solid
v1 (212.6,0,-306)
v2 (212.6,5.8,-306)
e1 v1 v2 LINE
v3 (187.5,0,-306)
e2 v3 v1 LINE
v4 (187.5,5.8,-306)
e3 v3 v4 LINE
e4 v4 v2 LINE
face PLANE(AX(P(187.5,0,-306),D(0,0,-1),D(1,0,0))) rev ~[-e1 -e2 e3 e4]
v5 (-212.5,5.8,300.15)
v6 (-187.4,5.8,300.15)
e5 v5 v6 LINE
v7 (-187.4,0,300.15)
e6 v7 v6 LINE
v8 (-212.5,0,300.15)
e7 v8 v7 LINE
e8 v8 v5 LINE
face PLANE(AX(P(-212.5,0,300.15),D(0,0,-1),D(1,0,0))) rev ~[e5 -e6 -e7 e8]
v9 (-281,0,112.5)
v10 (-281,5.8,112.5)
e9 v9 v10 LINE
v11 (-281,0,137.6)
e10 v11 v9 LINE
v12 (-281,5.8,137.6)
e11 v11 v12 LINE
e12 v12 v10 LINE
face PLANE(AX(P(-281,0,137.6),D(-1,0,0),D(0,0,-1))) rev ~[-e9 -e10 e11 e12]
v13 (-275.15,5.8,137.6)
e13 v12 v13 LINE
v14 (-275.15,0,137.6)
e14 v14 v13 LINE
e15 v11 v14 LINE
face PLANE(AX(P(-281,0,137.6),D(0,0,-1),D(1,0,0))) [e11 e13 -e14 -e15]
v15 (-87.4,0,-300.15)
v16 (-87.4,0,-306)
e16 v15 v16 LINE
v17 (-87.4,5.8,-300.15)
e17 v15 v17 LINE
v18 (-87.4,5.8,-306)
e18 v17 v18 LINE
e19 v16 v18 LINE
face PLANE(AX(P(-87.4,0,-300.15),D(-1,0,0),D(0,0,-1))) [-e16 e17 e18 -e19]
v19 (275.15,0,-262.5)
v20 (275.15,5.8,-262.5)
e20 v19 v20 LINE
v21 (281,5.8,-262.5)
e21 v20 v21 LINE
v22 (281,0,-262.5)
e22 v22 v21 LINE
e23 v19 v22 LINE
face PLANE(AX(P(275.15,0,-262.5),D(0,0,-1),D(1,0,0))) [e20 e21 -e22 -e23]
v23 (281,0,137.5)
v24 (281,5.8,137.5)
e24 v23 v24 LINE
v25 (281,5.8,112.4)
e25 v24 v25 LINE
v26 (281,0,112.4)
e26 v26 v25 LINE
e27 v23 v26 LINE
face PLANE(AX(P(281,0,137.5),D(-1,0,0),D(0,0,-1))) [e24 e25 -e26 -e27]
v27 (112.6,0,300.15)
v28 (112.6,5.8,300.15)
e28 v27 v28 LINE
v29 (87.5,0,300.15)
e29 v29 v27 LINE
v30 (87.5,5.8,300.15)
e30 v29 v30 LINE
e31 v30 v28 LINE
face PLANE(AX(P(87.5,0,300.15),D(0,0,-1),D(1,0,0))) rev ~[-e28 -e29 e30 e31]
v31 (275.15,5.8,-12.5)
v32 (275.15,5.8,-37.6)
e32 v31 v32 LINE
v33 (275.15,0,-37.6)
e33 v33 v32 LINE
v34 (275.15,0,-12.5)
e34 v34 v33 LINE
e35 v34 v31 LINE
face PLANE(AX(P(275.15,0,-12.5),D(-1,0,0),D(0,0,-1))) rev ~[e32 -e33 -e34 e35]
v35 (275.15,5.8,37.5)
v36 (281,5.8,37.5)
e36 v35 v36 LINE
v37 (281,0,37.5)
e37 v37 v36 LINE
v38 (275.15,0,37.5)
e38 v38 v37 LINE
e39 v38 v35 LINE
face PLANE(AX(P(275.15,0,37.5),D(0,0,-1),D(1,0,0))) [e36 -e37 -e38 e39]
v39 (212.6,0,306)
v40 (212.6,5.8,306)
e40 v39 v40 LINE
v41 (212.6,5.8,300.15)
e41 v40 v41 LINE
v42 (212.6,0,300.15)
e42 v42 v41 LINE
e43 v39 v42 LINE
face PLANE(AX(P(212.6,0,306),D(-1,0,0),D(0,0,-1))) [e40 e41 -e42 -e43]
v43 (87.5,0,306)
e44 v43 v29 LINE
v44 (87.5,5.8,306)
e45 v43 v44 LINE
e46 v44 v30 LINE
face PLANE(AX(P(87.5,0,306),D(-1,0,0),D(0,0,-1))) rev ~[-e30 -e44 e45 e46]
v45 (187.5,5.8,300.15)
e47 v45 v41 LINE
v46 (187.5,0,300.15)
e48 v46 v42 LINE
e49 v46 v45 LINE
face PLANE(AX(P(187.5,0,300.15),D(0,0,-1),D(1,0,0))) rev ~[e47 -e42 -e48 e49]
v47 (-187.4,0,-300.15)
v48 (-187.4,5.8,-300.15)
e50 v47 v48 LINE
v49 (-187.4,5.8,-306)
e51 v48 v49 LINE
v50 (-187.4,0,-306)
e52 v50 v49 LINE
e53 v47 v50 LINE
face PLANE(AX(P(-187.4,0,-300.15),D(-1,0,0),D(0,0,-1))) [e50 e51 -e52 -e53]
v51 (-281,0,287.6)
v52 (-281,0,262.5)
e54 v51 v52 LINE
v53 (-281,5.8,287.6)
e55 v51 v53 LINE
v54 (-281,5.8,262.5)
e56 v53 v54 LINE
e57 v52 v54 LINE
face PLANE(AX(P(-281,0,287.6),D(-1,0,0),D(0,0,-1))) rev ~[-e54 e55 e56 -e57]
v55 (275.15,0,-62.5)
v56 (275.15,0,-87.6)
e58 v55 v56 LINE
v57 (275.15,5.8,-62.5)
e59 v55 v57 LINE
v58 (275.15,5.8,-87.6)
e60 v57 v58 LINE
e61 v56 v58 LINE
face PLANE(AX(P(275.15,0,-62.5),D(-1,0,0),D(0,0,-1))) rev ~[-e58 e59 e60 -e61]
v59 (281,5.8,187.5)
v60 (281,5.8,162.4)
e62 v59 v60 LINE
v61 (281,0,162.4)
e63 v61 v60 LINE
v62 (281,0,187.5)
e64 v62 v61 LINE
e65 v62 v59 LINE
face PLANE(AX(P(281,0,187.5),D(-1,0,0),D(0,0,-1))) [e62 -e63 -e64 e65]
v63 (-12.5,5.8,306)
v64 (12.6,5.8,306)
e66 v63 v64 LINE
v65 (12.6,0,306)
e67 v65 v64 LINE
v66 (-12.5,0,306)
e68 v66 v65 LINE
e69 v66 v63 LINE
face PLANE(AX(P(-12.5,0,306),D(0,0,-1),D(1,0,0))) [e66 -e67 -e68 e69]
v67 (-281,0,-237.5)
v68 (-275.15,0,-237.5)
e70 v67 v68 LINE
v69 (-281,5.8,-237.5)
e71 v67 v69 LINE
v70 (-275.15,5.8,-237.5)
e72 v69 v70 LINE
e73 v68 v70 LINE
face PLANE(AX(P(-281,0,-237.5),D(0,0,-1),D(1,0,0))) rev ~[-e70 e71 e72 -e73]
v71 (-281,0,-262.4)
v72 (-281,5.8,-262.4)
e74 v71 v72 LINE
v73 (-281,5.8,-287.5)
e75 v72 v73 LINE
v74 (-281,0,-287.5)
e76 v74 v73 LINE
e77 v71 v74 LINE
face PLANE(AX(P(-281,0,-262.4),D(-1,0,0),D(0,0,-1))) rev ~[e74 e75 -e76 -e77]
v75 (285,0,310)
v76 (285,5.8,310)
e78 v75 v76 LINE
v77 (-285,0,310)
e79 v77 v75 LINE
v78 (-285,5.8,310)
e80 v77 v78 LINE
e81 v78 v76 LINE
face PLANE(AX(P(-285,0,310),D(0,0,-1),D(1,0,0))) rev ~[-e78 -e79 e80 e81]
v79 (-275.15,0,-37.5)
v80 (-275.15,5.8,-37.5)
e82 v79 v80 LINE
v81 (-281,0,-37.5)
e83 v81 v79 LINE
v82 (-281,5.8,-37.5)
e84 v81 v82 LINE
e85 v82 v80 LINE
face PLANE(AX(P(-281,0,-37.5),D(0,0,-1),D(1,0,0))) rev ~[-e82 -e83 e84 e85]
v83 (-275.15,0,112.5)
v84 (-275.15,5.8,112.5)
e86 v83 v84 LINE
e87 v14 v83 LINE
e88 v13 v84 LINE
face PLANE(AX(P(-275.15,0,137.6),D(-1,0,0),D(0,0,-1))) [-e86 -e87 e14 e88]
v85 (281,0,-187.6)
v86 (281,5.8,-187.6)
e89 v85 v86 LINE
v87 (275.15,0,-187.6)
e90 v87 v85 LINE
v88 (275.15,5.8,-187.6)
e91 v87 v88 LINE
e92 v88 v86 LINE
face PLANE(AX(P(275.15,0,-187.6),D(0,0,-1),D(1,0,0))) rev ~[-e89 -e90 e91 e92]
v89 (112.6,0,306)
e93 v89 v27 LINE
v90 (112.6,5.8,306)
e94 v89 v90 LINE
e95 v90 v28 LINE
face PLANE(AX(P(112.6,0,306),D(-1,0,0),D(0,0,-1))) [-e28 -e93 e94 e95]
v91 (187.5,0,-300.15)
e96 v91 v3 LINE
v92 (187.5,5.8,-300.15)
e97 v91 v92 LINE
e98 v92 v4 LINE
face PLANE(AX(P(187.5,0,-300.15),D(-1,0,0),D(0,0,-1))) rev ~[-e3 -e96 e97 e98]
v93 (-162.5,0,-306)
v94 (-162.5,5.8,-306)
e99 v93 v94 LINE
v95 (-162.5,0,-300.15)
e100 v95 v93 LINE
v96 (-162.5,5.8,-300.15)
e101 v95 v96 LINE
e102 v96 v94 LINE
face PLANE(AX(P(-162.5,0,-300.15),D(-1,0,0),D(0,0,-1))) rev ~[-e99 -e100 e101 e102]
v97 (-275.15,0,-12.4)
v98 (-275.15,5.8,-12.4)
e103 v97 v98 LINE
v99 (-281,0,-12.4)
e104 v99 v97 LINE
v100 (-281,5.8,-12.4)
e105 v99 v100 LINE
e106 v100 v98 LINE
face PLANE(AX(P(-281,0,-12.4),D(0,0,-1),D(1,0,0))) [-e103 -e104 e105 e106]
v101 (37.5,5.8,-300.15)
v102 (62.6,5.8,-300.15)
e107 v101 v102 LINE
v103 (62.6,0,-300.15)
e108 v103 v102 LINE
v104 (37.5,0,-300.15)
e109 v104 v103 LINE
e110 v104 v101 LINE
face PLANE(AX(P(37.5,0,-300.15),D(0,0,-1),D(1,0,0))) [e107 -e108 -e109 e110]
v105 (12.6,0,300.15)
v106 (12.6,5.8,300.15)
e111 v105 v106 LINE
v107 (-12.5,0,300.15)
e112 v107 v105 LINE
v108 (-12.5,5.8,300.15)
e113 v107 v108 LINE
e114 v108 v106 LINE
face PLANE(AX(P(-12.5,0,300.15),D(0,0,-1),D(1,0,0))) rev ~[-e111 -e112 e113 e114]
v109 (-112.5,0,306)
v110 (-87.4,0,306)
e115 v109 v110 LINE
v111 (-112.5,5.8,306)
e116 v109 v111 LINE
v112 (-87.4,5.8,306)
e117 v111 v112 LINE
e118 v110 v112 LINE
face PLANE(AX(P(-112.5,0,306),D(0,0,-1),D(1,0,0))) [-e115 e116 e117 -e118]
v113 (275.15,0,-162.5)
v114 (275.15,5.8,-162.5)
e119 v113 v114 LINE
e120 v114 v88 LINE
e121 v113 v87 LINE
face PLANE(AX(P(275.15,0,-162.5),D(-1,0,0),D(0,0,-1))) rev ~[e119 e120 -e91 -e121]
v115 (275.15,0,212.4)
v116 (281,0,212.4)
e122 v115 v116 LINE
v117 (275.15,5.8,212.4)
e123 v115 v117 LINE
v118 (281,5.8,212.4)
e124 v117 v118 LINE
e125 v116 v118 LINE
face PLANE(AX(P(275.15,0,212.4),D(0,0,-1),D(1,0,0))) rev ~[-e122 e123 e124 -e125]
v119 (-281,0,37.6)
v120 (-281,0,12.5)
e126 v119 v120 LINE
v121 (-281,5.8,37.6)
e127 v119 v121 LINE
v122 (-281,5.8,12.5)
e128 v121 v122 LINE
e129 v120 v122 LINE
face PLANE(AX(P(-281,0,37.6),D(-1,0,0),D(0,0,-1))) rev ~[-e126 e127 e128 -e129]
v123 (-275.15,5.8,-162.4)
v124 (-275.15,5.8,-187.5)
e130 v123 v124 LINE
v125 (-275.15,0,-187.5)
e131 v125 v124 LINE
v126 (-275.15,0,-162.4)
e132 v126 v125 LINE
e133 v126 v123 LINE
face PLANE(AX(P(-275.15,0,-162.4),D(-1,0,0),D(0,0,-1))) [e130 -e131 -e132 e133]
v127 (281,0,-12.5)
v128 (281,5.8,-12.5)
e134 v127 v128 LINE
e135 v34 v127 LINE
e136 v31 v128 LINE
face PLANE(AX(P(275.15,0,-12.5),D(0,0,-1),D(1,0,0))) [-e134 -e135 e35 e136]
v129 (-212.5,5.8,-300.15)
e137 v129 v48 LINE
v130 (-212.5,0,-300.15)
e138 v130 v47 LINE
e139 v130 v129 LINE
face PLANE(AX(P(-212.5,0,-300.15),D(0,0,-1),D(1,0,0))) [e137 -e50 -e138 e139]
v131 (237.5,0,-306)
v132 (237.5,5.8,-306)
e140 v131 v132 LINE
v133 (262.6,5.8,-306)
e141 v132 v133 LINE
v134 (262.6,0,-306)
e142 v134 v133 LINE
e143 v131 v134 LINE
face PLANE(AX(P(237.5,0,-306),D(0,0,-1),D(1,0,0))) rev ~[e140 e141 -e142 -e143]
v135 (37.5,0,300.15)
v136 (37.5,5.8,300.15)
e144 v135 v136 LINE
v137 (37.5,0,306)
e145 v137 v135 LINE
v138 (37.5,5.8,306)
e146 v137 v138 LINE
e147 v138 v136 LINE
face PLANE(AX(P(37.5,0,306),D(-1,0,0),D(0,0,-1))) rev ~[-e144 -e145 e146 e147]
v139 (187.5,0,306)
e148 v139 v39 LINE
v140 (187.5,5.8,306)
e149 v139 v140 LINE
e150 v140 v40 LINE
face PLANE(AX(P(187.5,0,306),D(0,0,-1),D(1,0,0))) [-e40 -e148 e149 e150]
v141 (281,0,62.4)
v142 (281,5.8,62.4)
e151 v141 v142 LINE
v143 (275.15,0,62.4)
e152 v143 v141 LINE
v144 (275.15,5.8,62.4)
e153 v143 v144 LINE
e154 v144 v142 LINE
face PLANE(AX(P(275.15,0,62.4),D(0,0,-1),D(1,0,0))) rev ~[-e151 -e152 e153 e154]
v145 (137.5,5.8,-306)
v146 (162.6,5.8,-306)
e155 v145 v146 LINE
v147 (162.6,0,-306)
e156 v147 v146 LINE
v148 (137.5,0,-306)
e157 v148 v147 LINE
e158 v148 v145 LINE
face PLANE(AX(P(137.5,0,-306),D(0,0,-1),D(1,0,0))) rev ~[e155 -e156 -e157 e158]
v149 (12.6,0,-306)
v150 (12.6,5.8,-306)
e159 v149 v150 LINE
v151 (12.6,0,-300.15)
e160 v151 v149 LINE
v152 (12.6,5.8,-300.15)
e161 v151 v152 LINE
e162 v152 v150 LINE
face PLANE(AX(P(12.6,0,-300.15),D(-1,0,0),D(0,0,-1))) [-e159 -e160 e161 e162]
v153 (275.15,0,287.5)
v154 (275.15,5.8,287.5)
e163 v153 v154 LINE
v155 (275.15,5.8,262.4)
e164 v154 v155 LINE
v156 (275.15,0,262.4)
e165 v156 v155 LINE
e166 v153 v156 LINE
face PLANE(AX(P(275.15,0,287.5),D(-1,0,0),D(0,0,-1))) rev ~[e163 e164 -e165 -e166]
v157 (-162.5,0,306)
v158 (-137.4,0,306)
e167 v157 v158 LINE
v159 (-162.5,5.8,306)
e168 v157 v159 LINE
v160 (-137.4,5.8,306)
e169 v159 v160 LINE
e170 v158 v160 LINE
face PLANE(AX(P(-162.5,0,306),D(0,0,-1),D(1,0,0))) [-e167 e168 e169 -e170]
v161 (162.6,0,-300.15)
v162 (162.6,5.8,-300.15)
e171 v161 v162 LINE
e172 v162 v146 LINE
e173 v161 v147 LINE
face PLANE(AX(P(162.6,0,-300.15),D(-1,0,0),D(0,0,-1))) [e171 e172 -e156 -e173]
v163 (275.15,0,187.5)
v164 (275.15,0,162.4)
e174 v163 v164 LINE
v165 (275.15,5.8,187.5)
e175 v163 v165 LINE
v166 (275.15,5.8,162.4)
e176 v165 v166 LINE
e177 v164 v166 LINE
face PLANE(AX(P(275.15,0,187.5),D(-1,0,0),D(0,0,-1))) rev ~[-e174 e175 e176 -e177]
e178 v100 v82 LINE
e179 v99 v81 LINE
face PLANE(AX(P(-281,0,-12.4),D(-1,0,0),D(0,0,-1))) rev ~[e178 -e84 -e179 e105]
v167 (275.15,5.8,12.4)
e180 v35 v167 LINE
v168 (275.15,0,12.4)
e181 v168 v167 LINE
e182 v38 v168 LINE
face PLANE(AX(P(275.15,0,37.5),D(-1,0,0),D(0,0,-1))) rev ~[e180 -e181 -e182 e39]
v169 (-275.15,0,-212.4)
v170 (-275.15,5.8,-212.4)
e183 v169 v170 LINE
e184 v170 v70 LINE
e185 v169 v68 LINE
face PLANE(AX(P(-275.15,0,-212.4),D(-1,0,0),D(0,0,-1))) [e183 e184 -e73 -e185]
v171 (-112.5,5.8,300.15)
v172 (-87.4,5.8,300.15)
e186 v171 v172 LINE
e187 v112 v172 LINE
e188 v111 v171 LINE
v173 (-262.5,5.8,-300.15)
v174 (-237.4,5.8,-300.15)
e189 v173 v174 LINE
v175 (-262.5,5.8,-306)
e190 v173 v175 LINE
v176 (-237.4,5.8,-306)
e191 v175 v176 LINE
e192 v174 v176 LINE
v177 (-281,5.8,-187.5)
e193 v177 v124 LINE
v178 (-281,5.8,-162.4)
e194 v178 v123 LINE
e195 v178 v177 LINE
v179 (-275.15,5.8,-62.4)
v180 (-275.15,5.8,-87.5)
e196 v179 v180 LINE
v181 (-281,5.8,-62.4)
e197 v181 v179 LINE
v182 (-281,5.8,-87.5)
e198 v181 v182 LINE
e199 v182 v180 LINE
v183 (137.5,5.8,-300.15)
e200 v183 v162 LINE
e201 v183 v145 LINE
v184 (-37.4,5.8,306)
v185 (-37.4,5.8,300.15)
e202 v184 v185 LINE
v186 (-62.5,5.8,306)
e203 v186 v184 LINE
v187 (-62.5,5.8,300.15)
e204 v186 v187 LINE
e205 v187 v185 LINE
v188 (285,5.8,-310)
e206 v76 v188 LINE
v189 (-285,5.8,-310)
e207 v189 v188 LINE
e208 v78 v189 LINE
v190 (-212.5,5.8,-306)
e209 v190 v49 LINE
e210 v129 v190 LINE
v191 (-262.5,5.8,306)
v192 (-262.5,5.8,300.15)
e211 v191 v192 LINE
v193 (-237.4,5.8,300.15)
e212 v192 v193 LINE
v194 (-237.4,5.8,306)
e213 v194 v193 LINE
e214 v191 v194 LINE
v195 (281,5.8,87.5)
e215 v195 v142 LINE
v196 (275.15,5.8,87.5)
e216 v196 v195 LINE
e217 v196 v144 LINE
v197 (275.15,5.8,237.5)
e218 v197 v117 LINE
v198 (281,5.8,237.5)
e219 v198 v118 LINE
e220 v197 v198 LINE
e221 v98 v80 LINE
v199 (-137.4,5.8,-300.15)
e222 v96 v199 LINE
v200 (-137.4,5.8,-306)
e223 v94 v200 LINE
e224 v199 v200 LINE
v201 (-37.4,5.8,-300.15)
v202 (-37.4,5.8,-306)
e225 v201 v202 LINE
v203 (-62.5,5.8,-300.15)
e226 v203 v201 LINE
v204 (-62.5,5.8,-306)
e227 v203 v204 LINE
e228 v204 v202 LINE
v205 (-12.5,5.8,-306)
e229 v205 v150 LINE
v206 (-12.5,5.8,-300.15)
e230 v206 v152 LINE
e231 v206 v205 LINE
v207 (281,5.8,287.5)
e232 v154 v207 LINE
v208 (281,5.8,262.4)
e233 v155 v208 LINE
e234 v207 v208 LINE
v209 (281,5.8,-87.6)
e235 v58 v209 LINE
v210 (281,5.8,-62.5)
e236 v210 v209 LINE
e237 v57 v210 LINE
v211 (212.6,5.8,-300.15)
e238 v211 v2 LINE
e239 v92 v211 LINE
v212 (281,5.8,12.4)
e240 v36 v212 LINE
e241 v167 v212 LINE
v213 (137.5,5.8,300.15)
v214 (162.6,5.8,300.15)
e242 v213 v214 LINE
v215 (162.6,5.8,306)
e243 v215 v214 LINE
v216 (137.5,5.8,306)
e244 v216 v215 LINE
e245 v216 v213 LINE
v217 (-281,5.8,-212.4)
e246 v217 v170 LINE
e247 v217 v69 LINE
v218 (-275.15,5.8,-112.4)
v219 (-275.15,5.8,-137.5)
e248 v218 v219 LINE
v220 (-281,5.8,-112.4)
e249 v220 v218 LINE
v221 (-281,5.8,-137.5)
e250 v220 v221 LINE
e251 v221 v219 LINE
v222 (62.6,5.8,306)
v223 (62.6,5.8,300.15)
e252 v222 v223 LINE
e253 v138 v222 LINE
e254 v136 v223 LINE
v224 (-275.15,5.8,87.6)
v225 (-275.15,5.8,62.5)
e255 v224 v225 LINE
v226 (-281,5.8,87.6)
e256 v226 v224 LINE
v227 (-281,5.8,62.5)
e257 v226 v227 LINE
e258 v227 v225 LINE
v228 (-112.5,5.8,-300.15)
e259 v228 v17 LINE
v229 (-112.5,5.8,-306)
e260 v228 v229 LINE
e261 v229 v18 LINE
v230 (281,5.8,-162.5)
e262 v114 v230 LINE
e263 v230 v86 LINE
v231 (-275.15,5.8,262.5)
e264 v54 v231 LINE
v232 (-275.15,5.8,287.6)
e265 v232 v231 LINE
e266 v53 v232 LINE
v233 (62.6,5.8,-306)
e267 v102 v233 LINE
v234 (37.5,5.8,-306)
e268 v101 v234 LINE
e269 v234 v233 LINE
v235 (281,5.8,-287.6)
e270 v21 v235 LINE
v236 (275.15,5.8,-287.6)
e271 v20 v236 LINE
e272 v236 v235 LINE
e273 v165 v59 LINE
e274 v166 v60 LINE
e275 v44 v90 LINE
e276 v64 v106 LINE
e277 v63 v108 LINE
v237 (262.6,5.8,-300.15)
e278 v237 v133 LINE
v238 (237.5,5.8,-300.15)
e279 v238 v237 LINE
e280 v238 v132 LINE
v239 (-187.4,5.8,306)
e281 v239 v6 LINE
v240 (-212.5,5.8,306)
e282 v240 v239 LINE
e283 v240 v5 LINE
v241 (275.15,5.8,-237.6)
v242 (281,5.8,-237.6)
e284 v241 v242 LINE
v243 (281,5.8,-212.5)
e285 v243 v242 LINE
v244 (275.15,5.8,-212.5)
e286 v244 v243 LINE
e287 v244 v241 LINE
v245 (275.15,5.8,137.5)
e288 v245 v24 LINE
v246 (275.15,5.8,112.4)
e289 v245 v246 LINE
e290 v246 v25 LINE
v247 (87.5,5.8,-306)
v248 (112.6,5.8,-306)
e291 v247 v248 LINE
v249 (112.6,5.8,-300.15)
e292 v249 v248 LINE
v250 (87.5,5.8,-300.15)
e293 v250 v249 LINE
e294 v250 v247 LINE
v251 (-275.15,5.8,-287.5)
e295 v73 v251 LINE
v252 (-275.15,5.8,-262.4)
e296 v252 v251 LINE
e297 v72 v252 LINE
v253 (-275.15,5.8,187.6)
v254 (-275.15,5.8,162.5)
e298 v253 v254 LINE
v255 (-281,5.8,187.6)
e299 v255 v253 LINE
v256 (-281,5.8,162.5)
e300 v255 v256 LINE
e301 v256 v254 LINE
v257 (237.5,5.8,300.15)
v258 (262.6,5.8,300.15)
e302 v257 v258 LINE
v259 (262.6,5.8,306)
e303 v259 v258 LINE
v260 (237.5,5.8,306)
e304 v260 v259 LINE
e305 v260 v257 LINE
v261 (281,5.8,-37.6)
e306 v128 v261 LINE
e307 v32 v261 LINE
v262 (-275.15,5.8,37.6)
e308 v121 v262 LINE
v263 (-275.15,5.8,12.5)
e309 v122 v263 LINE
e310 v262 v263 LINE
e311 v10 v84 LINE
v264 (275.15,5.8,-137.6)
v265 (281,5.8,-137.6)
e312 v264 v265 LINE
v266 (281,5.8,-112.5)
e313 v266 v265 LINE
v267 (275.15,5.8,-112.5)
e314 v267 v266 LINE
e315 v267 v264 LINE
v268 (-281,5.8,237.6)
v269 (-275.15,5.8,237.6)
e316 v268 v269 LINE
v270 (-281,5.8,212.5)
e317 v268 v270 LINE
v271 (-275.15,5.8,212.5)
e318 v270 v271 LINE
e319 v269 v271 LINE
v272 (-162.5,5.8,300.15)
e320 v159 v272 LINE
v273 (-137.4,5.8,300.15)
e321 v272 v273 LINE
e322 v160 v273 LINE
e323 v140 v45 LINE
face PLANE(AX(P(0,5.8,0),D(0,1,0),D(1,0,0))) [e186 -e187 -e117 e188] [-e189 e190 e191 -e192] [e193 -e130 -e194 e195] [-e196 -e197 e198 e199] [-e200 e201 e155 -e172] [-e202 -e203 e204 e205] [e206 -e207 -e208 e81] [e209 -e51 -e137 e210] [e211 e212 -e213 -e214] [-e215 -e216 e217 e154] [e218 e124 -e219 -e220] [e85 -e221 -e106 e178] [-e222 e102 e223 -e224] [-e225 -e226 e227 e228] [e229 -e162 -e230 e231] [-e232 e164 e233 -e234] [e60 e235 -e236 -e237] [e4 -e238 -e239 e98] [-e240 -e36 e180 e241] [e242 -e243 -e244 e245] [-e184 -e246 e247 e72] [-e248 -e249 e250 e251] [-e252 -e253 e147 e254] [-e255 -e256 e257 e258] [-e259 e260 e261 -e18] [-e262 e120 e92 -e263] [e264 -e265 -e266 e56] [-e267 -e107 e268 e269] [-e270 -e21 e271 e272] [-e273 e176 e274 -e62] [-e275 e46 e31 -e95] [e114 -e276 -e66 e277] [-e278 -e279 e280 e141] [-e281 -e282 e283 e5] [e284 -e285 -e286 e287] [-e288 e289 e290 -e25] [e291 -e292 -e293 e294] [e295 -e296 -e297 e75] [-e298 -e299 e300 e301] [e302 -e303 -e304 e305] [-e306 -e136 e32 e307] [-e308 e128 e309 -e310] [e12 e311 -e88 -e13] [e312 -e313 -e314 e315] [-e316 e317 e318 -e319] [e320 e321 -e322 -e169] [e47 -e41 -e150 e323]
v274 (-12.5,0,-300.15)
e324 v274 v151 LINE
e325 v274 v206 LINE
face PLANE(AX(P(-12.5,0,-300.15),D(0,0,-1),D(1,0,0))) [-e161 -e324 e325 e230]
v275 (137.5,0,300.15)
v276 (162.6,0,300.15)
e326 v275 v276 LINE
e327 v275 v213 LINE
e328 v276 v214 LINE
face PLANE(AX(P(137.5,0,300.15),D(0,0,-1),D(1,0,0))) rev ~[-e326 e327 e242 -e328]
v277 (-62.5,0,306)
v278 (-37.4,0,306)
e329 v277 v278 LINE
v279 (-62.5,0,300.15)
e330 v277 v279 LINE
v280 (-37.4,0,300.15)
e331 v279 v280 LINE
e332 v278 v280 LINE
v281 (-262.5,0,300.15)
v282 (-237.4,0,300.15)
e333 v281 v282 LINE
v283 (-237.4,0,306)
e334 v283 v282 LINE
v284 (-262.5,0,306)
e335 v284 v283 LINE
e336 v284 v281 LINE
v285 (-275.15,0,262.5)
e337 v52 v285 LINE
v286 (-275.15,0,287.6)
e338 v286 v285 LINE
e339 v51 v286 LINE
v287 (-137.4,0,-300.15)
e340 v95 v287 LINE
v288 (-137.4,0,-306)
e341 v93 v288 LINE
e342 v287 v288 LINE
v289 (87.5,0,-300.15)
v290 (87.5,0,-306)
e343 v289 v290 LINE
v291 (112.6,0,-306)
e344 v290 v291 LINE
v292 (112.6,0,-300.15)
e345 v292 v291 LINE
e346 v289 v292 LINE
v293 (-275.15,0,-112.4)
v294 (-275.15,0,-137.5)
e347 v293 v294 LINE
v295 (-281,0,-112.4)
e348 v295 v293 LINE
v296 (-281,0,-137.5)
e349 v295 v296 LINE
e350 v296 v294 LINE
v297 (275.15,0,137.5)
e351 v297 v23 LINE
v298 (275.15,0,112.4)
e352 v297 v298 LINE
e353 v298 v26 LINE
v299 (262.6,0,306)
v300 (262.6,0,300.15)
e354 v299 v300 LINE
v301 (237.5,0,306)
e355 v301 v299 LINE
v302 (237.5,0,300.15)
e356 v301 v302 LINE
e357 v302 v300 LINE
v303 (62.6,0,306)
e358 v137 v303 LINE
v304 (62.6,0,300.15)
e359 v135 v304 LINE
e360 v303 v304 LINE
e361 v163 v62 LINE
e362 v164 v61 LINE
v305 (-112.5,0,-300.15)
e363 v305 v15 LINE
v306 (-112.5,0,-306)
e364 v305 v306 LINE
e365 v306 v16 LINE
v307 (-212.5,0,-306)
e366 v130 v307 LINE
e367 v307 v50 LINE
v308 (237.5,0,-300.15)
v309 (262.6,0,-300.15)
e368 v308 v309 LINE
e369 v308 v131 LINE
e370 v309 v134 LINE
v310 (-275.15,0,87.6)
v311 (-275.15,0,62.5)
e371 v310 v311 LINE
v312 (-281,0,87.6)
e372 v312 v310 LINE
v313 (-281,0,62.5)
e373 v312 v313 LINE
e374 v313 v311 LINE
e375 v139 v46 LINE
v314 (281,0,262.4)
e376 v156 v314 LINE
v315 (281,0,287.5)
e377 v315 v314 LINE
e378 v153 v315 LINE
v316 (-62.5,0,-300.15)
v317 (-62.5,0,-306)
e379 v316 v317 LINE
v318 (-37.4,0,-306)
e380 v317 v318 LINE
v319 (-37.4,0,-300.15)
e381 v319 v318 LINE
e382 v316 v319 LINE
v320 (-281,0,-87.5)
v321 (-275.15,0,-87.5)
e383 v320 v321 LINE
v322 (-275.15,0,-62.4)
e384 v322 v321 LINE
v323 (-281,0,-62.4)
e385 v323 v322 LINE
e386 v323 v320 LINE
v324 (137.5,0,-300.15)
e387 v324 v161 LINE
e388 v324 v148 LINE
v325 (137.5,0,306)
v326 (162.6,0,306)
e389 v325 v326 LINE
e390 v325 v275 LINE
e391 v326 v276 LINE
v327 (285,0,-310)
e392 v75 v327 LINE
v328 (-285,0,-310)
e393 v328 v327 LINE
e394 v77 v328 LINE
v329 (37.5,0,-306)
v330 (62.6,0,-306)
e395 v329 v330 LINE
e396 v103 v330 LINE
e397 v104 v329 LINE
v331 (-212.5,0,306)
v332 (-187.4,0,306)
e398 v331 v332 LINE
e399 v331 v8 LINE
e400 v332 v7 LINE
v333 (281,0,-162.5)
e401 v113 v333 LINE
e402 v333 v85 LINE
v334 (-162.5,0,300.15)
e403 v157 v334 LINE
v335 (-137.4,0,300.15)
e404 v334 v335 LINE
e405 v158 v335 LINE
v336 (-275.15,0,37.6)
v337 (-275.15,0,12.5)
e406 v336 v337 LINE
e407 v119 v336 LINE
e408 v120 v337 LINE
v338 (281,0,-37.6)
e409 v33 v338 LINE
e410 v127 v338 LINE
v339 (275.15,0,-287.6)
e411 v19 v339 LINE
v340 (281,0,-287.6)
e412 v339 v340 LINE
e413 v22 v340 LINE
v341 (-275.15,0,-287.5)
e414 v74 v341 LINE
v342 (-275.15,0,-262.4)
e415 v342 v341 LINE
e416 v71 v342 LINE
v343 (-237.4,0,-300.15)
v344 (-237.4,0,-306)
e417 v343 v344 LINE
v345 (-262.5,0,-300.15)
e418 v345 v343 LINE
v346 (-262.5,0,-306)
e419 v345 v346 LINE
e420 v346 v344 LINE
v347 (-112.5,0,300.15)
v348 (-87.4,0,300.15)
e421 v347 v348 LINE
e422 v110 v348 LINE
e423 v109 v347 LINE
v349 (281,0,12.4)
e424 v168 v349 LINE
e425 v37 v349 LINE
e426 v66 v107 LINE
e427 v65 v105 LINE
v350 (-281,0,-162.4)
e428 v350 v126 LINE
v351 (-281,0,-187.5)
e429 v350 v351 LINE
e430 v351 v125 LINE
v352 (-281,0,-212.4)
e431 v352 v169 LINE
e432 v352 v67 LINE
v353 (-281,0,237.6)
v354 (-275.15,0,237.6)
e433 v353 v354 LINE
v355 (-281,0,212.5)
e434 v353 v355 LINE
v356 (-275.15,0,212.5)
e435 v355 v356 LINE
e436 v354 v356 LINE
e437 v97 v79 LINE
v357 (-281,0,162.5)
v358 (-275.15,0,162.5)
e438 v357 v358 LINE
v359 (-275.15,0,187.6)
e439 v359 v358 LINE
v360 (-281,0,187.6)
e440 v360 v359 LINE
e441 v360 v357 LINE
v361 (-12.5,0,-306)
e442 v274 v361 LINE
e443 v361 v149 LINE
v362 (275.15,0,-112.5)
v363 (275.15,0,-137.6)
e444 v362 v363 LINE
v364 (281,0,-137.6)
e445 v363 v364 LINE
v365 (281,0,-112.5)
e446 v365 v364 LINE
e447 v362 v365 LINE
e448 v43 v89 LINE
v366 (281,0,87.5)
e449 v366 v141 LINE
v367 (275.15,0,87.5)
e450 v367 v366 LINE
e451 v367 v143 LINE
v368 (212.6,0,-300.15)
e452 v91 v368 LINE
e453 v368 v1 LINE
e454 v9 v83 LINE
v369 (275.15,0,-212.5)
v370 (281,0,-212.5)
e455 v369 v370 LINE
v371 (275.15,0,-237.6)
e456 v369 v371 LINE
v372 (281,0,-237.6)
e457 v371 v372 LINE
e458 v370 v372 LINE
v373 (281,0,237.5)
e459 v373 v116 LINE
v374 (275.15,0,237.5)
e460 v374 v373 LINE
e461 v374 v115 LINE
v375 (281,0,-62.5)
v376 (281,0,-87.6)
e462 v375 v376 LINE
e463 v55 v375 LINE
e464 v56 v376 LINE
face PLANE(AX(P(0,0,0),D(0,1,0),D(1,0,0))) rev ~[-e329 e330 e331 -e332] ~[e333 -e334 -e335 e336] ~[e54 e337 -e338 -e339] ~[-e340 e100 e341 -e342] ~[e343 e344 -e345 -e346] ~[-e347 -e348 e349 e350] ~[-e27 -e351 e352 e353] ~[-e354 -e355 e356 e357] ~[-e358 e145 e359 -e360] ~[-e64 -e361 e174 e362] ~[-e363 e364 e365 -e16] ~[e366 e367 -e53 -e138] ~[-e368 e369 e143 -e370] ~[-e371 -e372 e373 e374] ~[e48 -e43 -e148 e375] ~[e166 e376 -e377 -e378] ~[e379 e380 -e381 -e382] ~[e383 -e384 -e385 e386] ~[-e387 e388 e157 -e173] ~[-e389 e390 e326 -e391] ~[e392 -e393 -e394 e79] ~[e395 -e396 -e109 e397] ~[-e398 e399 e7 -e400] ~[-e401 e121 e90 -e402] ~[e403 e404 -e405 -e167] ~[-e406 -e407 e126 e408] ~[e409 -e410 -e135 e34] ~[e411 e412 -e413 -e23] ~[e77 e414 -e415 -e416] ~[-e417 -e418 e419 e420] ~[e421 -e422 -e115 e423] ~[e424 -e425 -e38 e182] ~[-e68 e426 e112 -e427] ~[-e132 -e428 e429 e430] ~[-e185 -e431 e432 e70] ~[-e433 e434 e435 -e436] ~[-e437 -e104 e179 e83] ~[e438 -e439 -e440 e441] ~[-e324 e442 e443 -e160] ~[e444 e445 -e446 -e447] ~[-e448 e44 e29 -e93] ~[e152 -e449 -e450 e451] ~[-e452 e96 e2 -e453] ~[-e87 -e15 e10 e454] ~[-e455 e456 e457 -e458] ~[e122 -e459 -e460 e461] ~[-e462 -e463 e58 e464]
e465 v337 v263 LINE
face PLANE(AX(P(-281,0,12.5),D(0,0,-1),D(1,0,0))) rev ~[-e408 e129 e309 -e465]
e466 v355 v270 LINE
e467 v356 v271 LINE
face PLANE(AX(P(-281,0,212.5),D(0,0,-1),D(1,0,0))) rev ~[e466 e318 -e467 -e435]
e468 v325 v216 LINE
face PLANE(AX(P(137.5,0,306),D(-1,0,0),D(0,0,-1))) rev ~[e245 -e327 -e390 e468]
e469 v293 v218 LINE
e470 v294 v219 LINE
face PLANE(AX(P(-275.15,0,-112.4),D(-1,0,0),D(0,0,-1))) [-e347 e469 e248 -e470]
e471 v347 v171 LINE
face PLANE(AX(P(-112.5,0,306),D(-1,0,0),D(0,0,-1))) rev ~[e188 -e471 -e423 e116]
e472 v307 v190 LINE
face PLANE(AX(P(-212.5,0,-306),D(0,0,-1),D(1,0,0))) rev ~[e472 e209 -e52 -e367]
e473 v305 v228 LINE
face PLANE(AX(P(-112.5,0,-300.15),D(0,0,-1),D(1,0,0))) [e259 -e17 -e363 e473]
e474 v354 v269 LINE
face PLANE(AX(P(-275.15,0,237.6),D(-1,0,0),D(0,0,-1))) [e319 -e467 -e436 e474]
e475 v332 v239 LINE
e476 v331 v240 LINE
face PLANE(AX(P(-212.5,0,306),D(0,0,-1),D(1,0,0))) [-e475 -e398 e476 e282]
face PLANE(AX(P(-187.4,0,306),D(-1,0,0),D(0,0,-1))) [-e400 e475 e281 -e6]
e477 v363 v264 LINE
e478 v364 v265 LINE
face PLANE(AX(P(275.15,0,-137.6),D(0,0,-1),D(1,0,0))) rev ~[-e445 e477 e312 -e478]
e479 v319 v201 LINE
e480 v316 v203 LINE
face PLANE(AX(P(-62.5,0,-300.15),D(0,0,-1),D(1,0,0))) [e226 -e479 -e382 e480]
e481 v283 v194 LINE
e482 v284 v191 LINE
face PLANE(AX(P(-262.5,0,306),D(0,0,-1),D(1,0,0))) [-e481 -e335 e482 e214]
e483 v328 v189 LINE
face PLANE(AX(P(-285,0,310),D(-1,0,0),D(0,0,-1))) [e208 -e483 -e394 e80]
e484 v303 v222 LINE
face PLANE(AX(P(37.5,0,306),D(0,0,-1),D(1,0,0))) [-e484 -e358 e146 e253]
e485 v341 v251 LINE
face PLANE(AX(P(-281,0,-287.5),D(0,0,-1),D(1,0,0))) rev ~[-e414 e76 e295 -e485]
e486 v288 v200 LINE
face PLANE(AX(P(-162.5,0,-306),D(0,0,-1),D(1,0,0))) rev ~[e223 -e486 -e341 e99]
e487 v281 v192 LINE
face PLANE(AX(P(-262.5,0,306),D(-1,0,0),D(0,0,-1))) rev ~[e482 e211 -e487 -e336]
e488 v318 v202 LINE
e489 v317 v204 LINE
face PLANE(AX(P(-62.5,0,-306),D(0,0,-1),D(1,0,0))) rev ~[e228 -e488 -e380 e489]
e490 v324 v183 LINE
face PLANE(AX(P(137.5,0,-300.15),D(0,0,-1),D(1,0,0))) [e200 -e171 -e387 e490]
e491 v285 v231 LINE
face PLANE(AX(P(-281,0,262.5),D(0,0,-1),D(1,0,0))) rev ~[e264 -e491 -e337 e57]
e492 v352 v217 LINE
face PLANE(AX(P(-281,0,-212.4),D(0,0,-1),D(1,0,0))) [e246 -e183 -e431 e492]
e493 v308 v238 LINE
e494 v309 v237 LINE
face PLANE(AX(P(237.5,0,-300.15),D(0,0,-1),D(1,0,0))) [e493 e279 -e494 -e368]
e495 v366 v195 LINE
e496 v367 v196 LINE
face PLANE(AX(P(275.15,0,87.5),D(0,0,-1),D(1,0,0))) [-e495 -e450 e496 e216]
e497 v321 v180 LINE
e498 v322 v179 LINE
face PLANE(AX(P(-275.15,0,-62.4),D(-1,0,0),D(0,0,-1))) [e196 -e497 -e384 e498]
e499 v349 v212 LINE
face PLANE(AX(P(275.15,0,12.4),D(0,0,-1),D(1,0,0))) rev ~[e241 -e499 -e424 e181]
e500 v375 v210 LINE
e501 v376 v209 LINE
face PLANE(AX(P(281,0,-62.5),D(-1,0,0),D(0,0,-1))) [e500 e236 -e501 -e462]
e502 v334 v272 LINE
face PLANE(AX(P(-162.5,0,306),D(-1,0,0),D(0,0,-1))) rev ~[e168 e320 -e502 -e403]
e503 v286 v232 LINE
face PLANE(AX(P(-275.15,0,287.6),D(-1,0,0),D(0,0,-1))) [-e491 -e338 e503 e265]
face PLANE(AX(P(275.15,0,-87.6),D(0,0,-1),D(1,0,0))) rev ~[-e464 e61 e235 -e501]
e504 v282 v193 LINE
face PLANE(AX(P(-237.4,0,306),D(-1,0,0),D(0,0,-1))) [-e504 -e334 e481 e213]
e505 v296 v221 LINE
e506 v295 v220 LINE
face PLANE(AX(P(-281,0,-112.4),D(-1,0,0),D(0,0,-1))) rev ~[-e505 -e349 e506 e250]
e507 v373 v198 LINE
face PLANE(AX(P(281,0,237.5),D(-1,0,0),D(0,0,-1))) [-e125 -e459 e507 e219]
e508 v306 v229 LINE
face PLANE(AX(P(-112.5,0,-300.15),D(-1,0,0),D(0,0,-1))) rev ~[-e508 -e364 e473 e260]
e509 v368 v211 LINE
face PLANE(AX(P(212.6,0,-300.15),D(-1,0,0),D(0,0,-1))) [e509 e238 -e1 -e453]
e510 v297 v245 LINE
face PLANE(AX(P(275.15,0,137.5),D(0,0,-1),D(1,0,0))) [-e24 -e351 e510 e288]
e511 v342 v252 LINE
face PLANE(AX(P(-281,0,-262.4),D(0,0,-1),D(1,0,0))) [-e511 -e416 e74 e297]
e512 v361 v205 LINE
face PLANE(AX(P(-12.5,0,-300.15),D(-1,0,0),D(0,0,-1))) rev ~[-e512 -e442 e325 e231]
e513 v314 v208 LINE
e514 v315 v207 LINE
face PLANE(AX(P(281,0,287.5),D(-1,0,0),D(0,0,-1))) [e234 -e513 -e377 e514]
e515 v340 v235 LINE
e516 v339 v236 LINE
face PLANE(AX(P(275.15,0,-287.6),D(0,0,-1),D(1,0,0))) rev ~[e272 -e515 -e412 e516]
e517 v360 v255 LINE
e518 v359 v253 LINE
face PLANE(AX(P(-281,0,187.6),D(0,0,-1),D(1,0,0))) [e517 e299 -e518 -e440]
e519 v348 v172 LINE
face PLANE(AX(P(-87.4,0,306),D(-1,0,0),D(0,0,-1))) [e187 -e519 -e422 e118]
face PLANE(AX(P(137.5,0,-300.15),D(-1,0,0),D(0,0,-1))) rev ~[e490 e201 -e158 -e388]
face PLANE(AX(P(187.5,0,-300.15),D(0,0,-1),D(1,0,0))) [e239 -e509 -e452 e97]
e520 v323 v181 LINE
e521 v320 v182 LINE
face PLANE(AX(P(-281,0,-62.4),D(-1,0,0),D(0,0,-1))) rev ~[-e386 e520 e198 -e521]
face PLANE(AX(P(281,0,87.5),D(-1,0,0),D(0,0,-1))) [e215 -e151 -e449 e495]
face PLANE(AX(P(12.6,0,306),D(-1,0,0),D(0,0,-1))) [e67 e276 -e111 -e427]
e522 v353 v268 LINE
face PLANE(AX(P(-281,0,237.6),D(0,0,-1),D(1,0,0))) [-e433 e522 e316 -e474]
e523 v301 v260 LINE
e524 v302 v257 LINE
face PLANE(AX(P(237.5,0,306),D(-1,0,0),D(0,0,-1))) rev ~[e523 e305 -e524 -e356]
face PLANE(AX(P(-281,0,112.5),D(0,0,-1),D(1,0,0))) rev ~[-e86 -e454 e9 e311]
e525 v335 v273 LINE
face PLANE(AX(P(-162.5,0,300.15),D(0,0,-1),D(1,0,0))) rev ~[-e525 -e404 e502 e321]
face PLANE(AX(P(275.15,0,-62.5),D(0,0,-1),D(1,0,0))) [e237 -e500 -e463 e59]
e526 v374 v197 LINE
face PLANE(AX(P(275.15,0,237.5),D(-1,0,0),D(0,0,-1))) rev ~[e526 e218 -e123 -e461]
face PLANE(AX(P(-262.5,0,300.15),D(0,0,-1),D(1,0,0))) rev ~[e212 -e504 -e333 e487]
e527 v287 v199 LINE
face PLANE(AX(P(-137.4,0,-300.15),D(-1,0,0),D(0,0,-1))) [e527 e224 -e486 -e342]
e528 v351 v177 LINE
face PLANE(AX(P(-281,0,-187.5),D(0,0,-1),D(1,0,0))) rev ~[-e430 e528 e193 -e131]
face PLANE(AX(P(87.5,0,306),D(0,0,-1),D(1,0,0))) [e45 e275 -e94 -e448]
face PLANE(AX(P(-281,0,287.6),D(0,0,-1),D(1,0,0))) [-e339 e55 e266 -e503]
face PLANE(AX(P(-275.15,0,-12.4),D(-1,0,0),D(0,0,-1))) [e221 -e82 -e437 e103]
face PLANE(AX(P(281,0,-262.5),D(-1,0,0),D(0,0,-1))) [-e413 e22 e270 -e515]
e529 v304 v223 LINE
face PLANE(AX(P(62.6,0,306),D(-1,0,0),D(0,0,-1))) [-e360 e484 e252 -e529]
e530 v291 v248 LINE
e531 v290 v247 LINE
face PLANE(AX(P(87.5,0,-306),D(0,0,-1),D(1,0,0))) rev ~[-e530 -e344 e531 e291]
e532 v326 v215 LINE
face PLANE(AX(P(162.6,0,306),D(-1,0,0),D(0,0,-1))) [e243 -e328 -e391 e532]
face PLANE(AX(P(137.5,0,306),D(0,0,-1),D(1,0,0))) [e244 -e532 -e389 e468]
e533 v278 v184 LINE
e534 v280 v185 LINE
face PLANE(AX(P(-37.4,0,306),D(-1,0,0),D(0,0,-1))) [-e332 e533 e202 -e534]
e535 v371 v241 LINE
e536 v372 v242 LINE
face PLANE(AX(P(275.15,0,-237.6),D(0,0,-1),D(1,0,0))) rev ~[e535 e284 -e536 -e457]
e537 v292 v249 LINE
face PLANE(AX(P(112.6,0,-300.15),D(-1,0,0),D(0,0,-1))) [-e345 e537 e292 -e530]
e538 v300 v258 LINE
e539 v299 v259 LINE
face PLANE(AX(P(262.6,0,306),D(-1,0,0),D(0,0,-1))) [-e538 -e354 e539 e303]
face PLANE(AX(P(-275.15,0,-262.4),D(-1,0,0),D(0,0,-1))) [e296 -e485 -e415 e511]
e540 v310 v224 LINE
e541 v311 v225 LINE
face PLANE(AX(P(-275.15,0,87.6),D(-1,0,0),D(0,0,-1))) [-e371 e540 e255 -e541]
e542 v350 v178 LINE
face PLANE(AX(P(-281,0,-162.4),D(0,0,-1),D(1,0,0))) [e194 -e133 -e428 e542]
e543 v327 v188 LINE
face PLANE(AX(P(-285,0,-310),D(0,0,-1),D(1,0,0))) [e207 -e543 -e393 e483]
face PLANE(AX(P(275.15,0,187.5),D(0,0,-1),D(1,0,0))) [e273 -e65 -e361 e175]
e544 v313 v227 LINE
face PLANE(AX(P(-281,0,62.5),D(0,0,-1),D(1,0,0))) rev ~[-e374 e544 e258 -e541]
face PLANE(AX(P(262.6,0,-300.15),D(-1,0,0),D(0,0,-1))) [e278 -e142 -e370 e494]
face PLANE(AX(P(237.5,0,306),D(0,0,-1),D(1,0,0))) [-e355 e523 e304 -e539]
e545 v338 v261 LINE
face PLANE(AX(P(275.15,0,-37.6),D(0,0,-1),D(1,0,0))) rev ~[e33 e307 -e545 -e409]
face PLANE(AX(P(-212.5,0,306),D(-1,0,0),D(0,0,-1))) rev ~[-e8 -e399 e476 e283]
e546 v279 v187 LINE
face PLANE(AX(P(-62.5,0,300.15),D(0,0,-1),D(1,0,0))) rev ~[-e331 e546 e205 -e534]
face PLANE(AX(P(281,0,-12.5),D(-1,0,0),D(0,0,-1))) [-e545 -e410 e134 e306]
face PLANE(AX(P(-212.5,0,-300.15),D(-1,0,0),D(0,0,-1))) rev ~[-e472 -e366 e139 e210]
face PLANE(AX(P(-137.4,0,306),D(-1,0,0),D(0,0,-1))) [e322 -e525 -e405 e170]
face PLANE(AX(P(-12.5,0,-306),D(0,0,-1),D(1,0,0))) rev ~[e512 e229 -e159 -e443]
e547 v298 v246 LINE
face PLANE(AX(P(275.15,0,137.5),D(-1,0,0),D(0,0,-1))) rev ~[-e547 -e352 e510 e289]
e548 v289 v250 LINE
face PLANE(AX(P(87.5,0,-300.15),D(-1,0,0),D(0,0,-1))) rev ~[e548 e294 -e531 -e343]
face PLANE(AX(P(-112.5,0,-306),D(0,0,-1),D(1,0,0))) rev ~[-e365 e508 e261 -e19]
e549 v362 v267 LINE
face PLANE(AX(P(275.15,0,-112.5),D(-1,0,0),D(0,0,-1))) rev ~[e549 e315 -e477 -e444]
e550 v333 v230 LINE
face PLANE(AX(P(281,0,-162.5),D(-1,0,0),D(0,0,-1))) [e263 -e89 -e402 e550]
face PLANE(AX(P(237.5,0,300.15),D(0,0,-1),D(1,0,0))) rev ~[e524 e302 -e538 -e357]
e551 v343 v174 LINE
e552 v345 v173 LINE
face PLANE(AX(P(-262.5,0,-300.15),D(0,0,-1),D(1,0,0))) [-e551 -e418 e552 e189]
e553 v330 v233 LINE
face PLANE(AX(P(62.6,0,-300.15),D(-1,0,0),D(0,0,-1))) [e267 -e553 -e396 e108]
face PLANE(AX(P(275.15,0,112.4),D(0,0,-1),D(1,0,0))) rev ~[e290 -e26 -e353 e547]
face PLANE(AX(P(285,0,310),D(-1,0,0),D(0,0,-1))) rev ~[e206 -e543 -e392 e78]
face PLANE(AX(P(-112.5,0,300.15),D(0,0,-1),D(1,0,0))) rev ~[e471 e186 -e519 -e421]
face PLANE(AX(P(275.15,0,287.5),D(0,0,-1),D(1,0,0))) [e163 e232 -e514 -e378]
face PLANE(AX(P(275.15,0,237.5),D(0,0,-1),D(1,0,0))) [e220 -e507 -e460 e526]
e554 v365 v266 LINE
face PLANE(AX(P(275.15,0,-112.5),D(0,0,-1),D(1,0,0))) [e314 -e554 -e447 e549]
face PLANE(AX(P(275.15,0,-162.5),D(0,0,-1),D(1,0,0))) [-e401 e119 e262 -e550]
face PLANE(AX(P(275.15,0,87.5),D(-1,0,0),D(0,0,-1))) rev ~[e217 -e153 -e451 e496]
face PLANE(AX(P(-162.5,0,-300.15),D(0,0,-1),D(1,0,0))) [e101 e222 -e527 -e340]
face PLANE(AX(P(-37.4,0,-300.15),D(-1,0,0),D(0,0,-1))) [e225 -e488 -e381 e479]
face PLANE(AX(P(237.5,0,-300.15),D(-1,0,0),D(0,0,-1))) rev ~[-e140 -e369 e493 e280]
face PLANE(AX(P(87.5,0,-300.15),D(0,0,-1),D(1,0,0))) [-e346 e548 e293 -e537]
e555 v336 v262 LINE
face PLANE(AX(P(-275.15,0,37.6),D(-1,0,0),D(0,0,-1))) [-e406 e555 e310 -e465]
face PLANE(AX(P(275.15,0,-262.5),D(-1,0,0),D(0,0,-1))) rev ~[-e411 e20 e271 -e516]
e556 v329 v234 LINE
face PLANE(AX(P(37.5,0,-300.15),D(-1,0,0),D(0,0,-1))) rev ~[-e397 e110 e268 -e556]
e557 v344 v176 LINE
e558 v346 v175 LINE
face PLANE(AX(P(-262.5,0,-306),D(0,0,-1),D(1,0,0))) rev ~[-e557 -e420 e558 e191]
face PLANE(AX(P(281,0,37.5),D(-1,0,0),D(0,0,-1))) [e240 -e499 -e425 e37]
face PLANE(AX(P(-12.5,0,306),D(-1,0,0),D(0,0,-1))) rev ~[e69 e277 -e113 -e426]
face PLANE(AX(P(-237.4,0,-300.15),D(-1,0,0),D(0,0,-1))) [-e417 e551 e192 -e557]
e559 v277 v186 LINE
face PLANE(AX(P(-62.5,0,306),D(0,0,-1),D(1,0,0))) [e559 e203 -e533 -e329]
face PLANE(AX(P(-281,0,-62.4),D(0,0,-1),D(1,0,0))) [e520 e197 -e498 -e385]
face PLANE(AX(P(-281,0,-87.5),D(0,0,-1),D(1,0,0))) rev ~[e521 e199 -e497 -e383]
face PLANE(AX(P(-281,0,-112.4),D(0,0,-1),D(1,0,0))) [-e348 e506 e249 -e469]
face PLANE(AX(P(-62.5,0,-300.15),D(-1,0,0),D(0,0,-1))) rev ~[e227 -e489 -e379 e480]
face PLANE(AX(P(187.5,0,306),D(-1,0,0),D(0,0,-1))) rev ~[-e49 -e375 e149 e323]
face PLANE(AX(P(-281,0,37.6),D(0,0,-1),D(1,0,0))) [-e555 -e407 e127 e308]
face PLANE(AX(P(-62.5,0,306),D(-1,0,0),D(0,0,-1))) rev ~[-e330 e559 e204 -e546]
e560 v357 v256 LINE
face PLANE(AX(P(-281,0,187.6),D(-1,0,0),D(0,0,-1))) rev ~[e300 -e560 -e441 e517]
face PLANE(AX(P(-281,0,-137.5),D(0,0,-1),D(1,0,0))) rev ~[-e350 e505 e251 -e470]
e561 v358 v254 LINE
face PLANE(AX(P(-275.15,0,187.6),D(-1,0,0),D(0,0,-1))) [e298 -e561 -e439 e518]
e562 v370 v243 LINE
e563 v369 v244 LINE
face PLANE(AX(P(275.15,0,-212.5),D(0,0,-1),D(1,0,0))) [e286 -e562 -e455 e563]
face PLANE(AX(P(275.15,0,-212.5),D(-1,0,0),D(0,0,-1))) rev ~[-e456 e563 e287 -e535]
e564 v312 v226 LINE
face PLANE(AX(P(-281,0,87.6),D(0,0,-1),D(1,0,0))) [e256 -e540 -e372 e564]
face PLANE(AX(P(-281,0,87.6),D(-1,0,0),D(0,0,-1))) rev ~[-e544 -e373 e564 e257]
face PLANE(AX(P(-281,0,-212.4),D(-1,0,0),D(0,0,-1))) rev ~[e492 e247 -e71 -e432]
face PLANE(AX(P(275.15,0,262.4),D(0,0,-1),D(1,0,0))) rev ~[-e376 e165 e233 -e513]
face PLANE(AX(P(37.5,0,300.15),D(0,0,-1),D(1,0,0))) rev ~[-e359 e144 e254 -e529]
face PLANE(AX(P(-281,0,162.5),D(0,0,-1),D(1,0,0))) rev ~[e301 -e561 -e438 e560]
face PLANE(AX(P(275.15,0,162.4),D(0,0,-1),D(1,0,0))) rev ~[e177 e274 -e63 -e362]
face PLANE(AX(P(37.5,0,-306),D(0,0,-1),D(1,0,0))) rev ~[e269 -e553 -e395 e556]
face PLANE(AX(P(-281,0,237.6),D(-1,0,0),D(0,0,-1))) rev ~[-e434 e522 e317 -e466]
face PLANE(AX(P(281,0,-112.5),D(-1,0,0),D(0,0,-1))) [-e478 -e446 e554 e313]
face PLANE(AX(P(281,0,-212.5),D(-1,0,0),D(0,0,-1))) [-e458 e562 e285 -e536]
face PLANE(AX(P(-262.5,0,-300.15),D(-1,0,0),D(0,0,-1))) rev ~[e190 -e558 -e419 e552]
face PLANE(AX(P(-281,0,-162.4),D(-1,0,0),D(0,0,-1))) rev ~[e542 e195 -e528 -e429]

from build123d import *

# Parameters (mm, degrees)
SKETCH1_W           = 570
SKETCH1_H           = 620
SKETCH1_W_2         = 25.1
SKETCH1_H_2         = 5.85
SKETCH1_W_3         = 5.85
SKETCH1_H_3         = 25.1
BOSS_EXTRUDE1_DEPTH = 5.8


with BuildPart() as part:
    # Sketch1 → Boss-Extrude1 (new body)
    with BuildSketch(Plane(origin=(0, 0, 0), x_dir=(1, 0, 0), z_dir=(0, 1, 0))):
        Rectangle(SKETCH1_W, SKETCH1_H)
        with Locations((-199.95, 303.075)):
            Rectangle(SKETCH1_W_2, SKETCH1_H_2, mode=Mode.SUBTRACT)
        with Locations((-249.95, 303.075)):
            Rectangle(SKETCH1_W_2, SKETCH1_H_2, mode=Mode.SUBTRACT)
        with Locations((-149.95, 303.075)):
            Rectangle(SKETCH1_W_2, SKETCH1_H_2, mode=Mode.SUBTRACT)
        with Locations((-99.95, 303.075)):
            Rectangle(SKETCH1_W_2, SKETCH1_H_2, mode=Mode.SUBTRACT)
        with Locations((-49.95, 303.075)):
            Rectangle(SKETCH1_W_2, SKETCH1_H_2, mode=Mode.SUBTRACT)
        with Locations((0.05, 303.075)):
            Rectangle(SKETCH1_W_2, SKETCH1_H_2, mode=Mode.SUBTRACT)
        with Locations((50.05, 303.075)):
            Rectangle(SKETCH1_W_2, SKETCH1_H_2, mode=Mode.SUBTRACT)
        with Locations((100.05, 303.075)):
            Rectangle(SKETCH1_W_2, SKETCH1_H_2, mode=Mode.SUBTRACT)
        with Locations((150.05, 303.075)):
            Rectangle(SKETCH1_W_2, SKETCH1_H_2, mode=Mode.SUBTRACT)
        with Locations((200.05, 303.075)):
            Rectangle(SKETCH1_W_2, SKETCH1_H_2, mode=Mode.SUBTRACT)
        with Locations((250.05, 303.075)):
            Rectangle(SKETCH1_W_2, SKETCH1_H_2, mode=Mode.SUBTRACT)
        with Locations((250.05, -303.075)):
            Rectangle(SKETCH1_W_2, SKETCH1_H_2, mode=Mode.SUBTRACT)
        with Locations((200.05, -303.075)):
            Rectangle(SKETCH1_W_2, SKETCH1_H_2, mode=Mode.SUBTRACT)
        with Locations((150.05, -303.075)):
            Rectangle(SKETCH1_W_2, SKETCH1_H_2, mode=Mode.SUBTRACT)
        with Locations((100.05, -303.075)):
            Rectangle(SKETCH1_W_2, SKETCH1_H_2, mode=Mode.SUBTRACT)
        with Locations((50.05, -303.075)):
            Rectangle(SKETCH1_W_2, SKETCH1_H_2, mode=Mode.SUBTRACT)
        with Locations((0.05, -303.075)):
            Rectangle(SKETCH1_W_2, SKETCH1_H_2, mode=Mode.SUBTRACT)
        with Locations((-49.95, -303.075)):
            Rectangle(SKETCH1_W_2, SKETCH1_H_2, mode=Mode.SUBTRACT)
        with Locations((-99.95, -303.075)):
            Rectangle(SKETCH1_W_2, SKETCH1_H_2, mode=Mode.SUBTRACT)
        with Locations((-149.95, -303.075)):
            Rectangle(SKETCH1_W_2, SKETCH1_H_2, mode=Mode.SUBTRACT)
        with Locations((-199.95, -303.075)):
            Rectangle(SKETCH1_W_2, SKETCH1_H_2, mode=Mode.SUBTRACT)
        with Locations((-249.95, -303.075)):
            Rectangle(SKETCH1_W_2, SKETCH1_H_2, mode=Mode.SUBTRACT)
        with Locations((-278.075, 224.95)):
            Rectangle(SKETCH1_W_3, SKETCH1_H_3, mode=Mode.SUBTRACT)
        with Locations((-278.075, 274.95)):
            Rectangle(SKETCH1_W_3, SKETCH1_H_3, mode=Mode.SUBTRACT)
        with Locations((-278.075, 174.95)):
            Rectangle(SKETCH1_W_3, SKETCH1_H_3, mode=Mode.SUBTRACT)
        with Locations((-278.075, 124.95)):
            Rectangle(SKETCH1_W_3, SKETCH1_H_3, mode=Mode.SUBTRACT)
        with Locations((-278.075, 74.95)):
            Rectangle(SKETCH1_W_3, SKETCH1_H_3, mode=Mode.SUBTRACT)
        with Locations((-278.075, 24.95)):
            Rectangle(SKETCH1_W_3, SKETCH1_H_3, mode=Mode.SUBTRACT)
        with Locations((-278.075, -25.05)):
            Rectangle(SKETCH1_W_3, SKETCH1_H_3, mode=Mode.SUBTRACT)
        with Locations((-278.075, -75.05)):
            Rectangle(SKETCH1_W_3, SKETCH1_H_3, mode=Mode.SUBTRACT)
        with Locations((-278.075, -125.05)):
            Rectangle(SKETCH1_W_3, SKETCH1_H_3, mode=Mode.SUBTRACT)
        with Locations((-278.075, -175.05)):
            Rectangle(SKETCH1_W_3, SKETCH1_H_3, mode=Mode.SUBTRACT)
        with Locations((-278.075, -225.05)):
            Rectangle(SKETCH1_W_3, SKETCH1_H_3, mode=Mode.SUBTRACT)
        with Locations((-278.075, -275.05)):
            Rectangle(SKETCH1_W_3, SKETCH1_H_3, mode=Mode.SUBTRACT)
        with Locations((278.075, -274.95)):
            Rectangle(SKETCH1_W_3, SKETCH1_H_3, mode=Mode.SUBTRACT)
        with Locations((278.075, -224.95)):
            Rectangle(SKETCH1_W_3, SKETCH1_H_3, mode=Mode.SUBTRACT)
        with Locations((278.075, -174.95)):
            Rectangle(SKETCH1_W_3, SKETCH1_H_3, mode=Mode.SUBTRACT)
        with Locations((278.075, -124.95)):
            Rectangle(SKETCH1_W_3, SKETCH1_H_3, mode=Mode.SUBTRACT)
        with Locations((278.075, -74.95)):
            Rectangle(SKETCH1_W_3, SKETCH1_H_3, mode=Mode.SUBTRACT)
        with Locations((278.075, -24.95)):
            Rectangle(SKETCH1_W_3, SKETCH1_H_3, mode=Mode.SUBTRACT)
        with Locations((278.075, 25.05)):
            Rectangle(SKETCH1_W_3, SKETCH1_H_3, mode=Mode.SUBTRACT)
        with Locations((278.075, 75.05)):
            Rectangle(SKETCH1_W_3, SKETCH1_H_3, mode=Mode.SUBTRACT)
        with Locations((278.075, 125.05)):
            Rectangle(SKETCH1_W_3, SKETCH1_H_3, mode=Mode.SUBTRACT)
        with Locations((278.075, 175.05)):
            Rectangle(SKETCH1_W_3, SKETCH1_H_3, mode=Mode.SUBTRACT)
        with Locations((278.075, 225.05)):
            Rectangle(SKETCH1_W_3, SKETCH1_H_3, mode=Mode.SUBTRACT)
        with Locations((278.075, 275.05)):
            Rectangle(SKETCH1_W_3, SKETCH1_H_3, mode=Mode.SUBTRACT)
    extrude(amount=BOSS_EXTRUDE1_DEPTH)


solid = part.part
